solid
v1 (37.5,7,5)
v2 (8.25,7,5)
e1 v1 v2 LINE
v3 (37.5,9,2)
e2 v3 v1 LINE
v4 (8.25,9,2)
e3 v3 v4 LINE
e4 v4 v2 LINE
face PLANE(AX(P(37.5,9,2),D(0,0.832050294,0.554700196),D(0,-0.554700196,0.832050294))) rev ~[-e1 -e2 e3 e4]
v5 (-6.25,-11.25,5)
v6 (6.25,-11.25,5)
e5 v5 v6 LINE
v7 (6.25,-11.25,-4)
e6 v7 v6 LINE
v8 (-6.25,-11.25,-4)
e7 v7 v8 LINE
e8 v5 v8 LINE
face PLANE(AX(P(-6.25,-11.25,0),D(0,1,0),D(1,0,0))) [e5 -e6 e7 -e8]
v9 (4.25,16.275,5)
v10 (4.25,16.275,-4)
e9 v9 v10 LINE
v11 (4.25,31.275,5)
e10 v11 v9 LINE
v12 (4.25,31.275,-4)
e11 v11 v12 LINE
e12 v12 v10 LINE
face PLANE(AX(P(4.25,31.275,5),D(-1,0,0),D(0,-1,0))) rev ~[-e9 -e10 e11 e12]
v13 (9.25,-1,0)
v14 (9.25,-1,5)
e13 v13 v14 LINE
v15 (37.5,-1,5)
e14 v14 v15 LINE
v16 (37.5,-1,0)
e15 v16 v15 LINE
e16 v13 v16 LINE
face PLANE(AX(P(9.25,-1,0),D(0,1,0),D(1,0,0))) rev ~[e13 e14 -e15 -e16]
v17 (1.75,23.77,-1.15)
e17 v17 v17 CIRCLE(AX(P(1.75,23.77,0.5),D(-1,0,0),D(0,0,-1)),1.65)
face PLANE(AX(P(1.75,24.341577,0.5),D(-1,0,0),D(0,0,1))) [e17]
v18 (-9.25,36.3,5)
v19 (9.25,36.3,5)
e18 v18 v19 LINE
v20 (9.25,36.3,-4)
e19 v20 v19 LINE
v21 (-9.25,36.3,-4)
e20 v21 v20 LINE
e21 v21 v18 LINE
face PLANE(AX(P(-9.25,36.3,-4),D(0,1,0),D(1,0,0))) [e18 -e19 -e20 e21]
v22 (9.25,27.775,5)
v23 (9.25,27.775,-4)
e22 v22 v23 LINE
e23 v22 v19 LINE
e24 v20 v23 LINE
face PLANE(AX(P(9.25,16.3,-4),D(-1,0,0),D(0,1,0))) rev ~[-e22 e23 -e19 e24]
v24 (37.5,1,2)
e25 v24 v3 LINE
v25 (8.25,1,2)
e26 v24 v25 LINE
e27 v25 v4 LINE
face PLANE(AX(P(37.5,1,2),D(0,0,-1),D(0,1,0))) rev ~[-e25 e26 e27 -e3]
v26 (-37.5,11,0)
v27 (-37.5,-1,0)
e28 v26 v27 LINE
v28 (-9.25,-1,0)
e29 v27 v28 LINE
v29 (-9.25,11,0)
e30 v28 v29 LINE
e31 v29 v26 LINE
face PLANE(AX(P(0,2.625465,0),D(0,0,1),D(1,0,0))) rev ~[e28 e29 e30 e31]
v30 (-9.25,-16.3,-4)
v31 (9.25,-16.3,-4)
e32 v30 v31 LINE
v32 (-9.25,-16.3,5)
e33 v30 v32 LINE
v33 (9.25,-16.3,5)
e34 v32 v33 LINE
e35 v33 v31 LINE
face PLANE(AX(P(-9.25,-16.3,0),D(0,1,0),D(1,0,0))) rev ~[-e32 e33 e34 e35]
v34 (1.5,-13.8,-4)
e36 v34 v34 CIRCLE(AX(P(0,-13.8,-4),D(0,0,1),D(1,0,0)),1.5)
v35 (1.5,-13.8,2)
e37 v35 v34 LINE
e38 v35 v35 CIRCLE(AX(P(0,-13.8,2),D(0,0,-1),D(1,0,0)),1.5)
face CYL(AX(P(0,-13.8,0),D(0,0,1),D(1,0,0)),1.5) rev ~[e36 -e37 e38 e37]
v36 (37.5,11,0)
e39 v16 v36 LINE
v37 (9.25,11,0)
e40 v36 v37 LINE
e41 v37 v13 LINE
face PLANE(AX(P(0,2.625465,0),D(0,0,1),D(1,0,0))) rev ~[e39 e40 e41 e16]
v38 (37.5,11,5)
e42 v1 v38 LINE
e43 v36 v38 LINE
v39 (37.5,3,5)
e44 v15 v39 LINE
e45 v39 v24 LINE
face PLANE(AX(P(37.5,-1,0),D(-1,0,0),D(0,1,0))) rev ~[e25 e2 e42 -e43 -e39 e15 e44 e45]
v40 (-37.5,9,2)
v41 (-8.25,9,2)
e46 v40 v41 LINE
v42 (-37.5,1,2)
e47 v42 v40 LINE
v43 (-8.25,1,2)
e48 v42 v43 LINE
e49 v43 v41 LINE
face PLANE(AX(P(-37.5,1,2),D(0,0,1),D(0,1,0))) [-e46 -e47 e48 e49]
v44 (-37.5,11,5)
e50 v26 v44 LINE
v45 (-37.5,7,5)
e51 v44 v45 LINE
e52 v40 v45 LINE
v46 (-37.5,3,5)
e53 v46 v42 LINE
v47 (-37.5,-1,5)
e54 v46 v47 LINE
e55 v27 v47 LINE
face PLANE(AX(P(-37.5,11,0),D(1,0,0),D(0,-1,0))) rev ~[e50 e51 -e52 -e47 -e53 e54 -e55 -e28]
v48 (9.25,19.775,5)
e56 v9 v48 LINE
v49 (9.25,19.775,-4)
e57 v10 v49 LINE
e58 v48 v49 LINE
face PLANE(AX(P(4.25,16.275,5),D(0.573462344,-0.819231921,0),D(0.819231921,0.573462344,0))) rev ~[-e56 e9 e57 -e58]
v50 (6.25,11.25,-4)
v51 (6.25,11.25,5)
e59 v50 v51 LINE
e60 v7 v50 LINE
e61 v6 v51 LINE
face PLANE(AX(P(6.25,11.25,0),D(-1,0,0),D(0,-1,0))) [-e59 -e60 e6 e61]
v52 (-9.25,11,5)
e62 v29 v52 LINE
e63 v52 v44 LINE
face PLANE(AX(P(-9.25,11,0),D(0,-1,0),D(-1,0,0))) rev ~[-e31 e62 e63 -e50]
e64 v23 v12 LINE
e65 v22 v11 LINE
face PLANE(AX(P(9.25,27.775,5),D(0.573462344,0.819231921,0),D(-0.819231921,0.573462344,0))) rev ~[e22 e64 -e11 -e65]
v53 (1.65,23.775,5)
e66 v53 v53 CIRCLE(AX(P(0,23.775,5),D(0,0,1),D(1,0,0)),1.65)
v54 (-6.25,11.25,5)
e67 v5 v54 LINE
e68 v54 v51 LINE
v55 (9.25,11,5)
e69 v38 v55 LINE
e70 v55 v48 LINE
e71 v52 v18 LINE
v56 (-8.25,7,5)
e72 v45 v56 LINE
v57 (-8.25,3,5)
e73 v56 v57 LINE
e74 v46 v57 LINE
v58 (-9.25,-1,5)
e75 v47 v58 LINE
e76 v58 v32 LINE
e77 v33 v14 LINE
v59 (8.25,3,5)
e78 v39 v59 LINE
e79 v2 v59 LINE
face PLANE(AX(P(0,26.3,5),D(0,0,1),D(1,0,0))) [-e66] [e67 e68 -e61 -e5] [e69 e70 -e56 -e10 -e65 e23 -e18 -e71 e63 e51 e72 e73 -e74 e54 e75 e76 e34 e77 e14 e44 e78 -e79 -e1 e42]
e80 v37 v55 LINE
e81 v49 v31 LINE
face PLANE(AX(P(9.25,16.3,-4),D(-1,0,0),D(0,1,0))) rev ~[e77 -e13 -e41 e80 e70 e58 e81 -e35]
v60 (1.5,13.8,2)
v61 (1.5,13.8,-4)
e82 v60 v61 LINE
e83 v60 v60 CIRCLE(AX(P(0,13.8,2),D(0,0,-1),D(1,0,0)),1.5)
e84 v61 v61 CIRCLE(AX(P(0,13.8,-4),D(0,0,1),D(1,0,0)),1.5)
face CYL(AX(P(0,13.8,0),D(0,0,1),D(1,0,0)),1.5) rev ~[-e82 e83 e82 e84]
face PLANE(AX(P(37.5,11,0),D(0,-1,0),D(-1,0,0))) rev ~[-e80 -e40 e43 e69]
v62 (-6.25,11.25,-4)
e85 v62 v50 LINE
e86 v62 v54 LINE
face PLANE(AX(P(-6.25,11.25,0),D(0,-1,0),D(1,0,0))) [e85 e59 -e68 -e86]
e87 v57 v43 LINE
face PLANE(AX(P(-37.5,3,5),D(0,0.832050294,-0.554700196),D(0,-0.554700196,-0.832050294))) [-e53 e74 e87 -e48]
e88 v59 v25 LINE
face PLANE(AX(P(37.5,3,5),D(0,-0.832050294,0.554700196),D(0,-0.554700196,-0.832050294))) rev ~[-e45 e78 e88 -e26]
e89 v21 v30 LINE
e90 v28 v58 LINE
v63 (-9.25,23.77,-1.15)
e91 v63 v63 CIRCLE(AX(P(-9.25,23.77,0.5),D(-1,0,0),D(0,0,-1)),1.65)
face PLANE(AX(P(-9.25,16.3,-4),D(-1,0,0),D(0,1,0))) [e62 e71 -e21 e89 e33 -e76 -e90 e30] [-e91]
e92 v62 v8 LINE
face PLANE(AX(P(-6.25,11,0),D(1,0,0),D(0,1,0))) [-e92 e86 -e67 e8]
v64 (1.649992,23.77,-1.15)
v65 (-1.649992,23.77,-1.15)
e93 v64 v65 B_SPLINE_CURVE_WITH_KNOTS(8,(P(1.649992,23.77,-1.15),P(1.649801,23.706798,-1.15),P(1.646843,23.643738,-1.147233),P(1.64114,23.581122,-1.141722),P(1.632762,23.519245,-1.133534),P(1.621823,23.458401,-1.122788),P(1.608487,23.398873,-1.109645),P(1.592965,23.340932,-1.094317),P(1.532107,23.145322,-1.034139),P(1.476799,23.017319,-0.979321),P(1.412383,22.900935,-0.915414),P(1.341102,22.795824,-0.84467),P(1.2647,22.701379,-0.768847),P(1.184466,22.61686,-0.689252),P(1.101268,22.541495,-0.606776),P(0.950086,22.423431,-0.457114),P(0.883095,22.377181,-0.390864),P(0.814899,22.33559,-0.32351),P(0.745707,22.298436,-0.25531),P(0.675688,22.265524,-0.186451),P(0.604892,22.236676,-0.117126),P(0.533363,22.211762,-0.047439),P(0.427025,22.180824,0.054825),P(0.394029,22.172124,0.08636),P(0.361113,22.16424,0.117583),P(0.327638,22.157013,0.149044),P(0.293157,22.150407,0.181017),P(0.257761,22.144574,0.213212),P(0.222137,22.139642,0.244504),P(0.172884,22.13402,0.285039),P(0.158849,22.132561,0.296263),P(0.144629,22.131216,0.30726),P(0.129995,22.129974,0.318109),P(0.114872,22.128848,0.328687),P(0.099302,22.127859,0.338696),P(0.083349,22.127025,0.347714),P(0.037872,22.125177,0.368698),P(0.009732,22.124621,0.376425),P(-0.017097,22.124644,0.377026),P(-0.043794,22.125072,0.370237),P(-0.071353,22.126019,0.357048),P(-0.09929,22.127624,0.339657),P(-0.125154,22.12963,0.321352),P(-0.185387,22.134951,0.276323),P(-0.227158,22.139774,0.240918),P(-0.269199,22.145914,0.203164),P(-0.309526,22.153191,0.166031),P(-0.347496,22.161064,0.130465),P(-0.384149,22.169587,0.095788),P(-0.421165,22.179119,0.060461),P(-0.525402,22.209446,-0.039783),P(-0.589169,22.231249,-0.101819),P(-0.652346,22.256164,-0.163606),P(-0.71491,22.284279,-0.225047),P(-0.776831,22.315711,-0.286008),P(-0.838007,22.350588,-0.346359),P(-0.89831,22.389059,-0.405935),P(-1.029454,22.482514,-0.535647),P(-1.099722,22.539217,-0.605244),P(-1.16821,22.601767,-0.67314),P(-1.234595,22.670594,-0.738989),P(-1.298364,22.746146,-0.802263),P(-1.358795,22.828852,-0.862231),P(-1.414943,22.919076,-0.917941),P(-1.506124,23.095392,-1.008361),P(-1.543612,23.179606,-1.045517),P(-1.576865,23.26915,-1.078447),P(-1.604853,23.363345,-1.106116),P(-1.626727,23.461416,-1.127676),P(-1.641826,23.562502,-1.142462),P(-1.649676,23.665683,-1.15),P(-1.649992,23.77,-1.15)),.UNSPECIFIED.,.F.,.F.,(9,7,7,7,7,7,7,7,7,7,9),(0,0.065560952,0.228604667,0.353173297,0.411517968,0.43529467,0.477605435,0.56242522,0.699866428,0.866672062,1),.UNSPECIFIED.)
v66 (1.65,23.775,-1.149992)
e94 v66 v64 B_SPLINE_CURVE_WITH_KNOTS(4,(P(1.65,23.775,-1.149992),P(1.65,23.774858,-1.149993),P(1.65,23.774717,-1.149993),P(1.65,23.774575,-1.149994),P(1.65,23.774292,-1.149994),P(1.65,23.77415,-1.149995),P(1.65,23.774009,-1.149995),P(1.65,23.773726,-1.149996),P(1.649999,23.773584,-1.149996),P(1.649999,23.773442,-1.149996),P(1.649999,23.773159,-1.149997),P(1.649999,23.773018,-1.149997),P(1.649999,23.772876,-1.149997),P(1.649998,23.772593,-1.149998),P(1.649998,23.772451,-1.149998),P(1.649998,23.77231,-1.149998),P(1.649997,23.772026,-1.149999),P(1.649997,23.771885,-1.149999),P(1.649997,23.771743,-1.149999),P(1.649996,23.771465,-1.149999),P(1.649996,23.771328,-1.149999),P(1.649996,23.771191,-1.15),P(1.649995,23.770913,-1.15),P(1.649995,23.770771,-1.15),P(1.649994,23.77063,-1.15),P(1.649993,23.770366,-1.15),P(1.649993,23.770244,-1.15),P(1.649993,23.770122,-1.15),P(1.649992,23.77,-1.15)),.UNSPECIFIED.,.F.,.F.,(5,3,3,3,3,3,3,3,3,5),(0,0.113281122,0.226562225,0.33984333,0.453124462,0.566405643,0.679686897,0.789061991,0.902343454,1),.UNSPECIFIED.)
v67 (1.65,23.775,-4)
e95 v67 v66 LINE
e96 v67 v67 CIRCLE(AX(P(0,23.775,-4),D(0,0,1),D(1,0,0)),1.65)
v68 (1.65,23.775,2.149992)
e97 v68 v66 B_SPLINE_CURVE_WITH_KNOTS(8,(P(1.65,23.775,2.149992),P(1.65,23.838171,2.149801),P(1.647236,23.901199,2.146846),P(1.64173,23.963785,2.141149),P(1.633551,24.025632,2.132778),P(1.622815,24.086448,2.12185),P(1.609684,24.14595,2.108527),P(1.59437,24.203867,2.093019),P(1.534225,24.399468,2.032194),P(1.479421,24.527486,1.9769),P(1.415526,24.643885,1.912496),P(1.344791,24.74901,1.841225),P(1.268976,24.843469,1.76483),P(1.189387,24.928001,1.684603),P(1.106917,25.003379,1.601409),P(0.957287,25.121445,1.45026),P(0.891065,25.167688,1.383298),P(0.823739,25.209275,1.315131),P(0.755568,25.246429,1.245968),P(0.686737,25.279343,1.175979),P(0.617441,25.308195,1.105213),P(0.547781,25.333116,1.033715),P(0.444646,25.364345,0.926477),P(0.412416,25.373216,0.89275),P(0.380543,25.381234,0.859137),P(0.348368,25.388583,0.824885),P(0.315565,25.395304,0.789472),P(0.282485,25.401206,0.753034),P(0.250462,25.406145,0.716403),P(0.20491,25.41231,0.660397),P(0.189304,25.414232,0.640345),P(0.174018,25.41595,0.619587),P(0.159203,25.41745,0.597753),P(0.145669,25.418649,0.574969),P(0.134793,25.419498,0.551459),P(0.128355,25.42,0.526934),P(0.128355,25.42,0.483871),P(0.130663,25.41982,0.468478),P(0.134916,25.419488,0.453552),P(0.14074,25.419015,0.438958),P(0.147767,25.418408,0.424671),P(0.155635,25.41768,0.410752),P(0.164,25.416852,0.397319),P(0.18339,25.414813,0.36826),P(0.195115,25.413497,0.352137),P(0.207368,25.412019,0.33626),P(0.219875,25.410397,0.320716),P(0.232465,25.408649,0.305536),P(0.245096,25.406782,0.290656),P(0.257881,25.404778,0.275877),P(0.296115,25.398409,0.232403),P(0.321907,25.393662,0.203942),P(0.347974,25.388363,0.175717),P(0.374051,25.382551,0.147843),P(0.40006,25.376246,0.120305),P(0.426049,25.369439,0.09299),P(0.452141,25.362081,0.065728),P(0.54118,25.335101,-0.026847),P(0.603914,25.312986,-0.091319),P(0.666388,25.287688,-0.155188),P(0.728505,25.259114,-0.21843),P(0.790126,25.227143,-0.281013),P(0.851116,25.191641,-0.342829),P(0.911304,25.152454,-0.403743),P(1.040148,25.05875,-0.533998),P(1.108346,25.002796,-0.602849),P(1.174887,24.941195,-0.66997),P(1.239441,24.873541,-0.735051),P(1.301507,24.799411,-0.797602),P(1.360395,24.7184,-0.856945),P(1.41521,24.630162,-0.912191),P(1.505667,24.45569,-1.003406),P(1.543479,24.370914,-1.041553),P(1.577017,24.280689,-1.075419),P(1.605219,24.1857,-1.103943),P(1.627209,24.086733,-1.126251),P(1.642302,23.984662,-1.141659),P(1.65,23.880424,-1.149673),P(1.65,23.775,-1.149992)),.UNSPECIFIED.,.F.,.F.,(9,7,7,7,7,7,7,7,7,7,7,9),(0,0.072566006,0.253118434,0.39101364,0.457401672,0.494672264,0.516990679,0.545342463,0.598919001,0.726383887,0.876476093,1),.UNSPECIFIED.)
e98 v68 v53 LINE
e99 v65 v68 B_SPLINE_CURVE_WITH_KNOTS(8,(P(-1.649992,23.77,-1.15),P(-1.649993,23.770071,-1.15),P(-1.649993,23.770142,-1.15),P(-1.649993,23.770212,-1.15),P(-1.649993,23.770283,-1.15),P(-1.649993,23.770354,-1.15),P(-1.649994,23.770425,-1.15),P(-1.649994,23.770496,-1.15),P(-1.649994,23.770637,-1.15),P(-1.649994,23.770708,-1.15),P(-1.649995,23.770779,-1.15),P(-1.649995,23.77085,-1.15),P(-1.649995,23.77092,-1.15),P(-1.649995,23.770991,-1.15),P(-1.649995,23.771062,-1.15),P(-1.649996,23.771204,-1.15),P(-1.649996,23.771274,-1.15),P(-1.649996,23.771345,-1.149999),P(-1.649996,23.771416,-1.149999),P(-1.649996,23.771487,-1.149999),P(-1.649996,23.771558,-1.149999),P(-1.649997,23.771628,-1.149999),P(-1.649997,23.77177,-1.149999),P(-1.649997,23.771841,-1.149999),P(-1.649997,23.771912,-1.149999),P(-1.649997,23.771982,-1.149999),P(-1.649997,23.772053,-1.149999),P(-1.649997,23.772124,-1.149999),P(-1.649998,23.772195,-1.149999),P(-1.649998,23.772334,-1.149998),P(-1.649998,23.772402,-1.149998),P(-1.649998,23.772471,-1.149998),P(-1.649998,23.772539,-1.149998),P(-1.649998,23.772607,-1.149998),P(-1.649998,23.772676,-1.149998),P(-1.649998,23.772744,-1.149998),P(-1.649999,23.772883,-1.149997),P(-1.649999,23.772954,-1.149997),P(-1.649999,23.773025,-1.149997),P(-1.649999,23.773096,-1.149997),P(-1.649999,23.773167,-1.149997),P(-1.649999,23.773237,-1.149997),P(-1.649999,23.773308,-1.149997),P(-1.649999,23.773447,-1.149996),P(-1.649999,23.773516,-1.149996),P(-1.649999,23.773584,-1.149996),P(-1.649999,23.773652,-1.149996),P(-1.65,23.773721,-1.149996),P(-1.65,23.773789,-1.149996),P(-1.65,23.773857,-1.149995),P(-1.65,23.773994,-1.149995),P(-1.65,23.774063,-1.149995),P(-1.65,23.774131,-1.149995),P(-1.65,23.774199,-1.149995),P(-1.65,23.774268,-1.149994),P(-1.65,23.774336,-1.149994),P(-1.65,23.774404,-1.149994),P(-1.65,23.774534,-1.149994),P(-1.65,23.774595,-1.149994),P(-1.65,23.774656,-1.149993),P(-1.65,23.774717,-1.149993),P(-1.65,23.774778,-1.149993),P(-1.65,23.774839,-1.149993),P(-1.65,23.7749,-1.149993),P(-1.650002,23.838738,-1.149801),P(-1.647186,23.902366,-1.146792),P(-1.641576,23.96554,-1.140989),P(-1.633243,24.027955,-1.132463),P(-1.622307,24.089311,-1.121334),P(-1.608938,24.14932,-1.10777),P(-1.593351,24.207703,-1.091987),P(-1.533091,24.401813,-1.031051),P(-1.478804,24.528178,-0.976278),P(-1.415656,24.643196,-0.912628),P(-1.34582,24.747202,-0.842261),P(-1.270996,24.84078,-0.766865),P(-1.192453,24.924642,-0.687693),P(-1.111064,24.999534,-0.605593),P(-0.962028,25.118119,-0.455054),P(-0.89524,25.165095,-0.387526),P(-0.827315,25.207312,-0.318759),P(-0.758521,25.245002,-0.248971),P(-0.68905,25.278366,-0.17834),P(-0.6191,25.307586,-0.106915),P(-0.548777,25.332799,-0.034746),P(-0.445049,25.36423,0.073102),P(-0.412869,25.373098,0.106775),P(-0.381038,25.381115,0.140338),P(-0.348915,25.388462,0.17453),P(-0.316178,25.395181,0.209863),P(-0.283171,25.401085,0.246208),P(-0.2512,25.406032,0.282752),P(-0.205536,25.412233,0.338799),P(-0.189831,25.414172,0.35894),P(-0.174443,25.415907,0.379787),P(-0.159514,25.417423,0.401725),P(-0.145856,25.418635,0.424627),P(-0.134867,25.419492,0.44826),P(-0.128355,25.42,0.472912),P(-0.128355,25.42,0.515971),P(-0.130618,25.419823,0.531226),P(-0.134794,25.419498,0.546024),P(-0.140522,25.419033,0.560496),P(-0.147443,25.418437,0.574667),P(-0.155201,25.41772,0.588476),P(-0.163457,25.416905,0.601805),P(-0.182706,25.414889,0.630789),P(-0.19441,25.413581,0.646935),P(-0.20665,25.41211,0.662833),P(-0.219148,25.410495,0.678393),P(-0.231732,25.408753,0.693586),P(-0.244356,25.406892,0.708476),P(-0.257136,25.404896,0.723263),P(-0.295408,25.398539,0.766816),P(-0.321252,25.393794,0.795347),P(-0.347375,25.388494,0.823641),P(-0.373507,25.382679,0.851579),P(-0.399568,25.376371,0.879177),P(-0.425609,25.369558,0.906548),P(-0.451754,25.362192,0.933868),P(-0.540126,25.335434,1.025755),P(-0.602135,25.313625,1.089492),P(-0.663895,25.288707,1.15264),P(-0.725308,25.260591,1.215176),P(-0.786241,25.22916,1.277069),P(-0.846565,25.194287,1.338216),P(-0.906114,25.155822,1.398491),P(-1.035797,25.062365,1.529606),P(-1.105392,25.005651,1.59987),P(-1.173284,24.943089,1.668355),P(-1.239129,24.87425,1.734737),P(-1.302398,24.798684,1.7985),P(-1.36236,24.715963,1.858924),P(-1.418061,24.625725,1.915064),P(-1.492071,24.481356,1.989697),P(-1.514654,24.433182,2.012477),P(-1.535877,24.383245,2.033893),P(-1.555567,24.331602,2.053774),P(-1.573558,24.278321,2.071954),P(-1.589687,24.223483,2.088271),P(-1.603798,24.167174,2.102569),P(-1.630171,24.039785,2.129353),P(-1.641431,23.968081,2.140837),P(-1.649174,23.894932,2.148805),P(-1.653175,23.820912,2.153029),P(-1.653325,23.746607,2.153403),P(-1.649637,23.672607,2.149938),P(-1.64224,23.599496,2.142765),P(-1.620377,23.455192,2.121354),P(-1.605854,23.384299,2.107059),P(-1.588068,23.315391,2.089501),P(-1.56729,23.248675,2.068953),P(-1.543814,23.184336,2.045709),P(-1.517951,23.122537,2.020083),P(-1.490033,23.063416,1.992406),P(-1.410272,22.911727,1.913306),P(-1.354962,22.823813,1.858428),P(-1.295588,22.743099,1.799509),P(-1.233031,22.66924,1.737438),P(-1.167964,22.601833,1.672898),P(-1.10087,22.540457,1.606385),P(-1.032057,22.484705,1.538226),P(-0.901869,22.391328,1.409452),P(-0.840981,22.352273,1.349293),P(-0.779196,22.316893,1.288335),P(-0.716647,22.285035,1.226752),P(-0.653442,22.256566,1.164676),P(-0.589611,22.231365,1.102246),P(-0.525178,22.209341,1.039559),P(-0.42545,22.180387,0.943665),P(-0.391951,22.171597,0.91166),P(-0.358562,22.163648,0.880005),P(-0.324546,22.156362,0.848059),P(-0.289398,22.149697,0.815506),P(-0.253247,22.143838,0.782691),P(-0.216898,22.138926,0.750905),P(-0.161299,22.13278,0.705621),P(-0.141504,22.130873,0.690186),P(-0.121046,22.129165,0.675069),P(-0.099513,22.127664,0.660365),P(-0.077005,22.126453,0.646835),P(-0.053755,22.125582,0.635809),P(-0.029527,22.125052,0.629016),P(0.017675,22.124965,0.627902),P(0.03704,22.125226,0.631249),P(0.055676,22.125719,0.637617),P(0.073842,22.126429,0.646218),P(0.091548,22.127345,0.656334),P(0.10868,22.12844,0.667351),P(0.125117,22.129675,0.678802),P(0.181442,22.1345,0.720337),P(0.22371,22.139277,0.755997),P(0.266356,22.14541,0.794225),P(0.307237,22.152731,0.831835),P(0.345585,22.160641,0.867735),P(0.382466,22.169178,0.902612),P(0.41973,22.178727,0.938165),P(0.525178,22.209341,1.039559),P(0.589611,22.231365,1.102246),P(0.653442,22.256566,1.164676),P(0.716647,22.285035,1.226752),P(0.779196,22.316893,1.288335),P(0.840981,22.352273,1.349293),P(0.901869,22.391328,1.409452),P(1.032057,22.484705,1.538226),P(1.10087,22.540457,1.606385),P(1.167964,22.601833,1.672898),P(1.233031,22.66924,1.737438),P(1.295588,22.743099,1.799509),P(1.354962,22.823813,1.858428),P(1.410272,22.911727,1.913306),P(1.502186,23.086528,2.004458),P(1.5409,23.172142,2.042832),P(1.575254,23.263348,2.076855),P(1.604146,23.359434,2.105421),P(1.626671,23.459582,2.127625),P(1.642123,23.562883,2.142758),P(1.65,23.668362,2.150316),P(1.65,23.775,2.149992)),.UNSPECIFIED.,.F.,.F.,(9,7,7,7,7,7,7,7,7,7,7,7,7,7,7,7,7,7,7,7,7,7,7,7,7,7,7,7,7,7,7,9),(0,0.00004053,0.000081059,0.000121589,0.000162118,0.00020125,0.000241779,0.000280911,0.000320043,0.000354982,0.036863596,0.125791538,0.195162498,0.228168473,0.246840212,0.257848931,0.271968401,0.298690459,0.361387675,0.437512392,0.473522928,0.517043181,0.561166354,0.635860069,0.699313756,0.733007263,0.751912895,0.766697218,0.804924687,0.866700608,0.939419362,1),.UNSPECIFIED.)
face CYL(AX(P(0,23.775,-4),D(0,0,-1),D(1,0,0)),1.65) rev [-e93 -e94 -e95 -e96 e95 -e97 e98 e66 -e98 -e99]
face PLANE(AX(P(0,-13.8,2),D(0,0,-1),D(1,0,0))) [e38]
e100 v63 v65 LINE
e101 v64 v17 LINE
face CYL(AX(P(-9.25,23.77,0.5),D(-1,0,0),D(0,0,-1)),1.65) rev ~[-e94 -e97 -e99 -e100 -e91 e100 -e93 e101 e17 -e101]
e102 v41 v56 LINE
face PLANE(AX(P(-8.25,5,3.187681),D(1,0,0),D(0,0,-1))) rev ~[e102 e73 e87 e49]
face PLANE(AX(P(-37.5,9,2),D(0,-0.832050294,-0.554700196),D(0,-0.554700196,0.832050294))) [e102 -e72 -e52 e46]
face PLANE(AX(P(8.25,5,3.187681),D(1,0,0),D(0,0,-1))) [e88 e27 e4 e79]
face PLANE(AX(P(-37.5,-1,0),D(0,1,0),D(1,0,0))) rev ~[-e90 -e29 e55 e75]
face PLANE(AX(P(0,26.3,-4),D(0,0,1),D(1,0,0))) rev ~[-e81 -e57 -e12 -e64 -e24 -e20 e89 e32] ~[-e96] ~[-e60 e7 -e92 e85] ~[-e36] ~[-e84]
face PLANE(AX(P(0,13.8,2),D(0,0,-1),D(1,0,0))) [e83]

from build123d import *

# Parameters (mm, degrees)
SKETCH_1_W           = 12.5
SKETCH_1_H           = 22.5
EXTRUDE_1_DEPTH      = 5
CUT_EXTRUDE_2_DEPTH  = 29.25
CUT_EXTRUDE_4_DEPTH  = 29.25
SKETCH_1_9_R         = 1.5
SKETCH_1_9_W         = 3
SKETCH_1_9_H         = 4.5
EXTRUDE_2_DEPTH      = 4
EXTRUDE_7_DEPTH      = 5
EXTRUDE_7_DEPTH_BACK = 4
SKETCH_1_11_W        = 18.5
SKETCH_1_11_H        = 20
CUT_EXTRUDE_5_DEPTH  = 53.961684263
CUT_EXTRUDE_START    = -9
CUT_EXTRUDE_7_DEPTH  = 9
CUT_EXTRUDE_8_DEPTH  = 11
CUT_EXTRUDE_START_2  = -2
SKETCH_10_R          = 1.5
CUT_EXTRUDE_9_DEPTH  = 2


with BuildPart() as part:
    # 草图1 → 凸台-拉伸1 (new body)
    with BuildSketch(Plane.XY):
        Polygon((-9.25, 11), (-37.5, 11), (-37.5, -1), (-9.25, -1), (-9.25, -16.3), (9.25, -16.3), (9.25, -1), (37.5, -1), (37.5, 11), (9.25, 11), (9.25, 16.3), (-9.25, 16.3), align=None)
        Rectangle(SKETCH_1_W, SKETCH_1_H, mode=Mode.SUBTRACT)
    extrude(amount=EXTRUDE_1_DEPTH)

    # 草图2 → 切除-拉伸2 (cut)
    with BuildSketch(Plane.ZY.offset(37.5)):
        Polygon((5, 7), (5, 3), (2, 1), (2, 9), align=None)
    extrude(amount=-CUT_EXTRUDE_2_DEPTH, mode=Mode.SUBTRACT)

    # 草图3 → 切除-拉伸4 (cut)
    with BuildSketch(Plane(origin=(37.5, 0, 0), x_dir=(0, 0, -1), z_dir=(1, 0, 0))):
        Polygon((-5, 7), (-5, 3), (-2, 1), (-2, 9), align=None)
    extrude(amount=-CUT_EXTRUDE_4_DEPTH, mode=Mode.SUBTRACT)

    # 草图1<9> → 凸台-拉伸2 (add)
    # profile 1 of 8: a face of its own
    with BuildSketch(Plane.XY):
        Polygon((-9.25, 11), (-6.25, 11), (-6.25, 11.25), (0, 11.25), (6.25, 11.25), (6.25, 11), (9.25, 11), (9.25, 16.3), (-9.25, 16.3), align=None)
        with Locations((0, 13.8)):
            Circle(SKETCH_1_9_R, mode=Mode.SUBTRACT)
    # profile 2 of 8: a face of its own
    with BuildSketch(Plane.XY):
        with Locations((-7.75, 8.75)):
            Rectangle(SKETCH_1_9_W, SKETCH_1_9_H)
    # profile 3 of 8: a face of its own
    with BuildSketch(Plane.XY):
        with Locations((7.75, 8.75)):
            Rectangle(SKETCH_1_9_W, SKETCH_1_9_H)
    # profile 4 of 8: a face of its own
    with BuildSketch(Plane.XY):
        Polygon((6.25, 5), (6.25, 3.5), (9.25, 3.5), (9.25, 6.5), (6.25, 6.5), align=None)
    # profile 5 of 8: a face of its own
    with BuildSketch(Plane.XY):
        with Locations((7.75, 1.25)):
            Rectangle(SKETCH_1_9_W, SKETCH_1_9_H)
    # profile 6 of 8: a face of its own
    with BuildSketch(Plane.XY):
        Polygon((6.25, -11.25), (-6.25, -11.25), (-6.25, -1), (-9.25, -1), (-9.25, -16.3), (9.25, -16.3), (9.25, -1), (6.25, -1), align=None)
        with Locations((0, -13.8)):
            Circle(SKETCH_1_9_R, mode=Mode.SUBTRACT)
    # profile 7 of 8: a face of its own
    with BuildSketch(Plane.XY):
        with Locations((-7.75, 1.25)):
            Rectangle(SKETCH_1_9_W, SKETCH_1_9_H)
    # profile 8 of 8: a face of its own
    with BuildSketch(Plane.XY):
        Polygon((-9.25, 3.5), (-6.25, 3.5), (-6.25, 4.999999998), (-6.25, 6.5), (-9.25, 6.5), align=None)
    extrude(amount=-EXTRUDE_2_DEPTH)

    # 草图1<11> → 凸台-拉伸7 (add, two sides: drawn at the far end of the back side and taken through both)
    with BuildSketch(Plane.XY.offset(-EXTRUDE_7_DEPTH_BACK)):
        with Locations((0, 26.3)):
            Rectangle(SKETCH_1_11_W, SKETCH_1_11_H)
    extrude(amount=EXTRUDE_7_DEPTH + EXTRUDE_7_DEPTH_BACK)

    # 草图6 → 切除-拉伸5 (cut, through all)
    with BuildSketch(Plane.XY.offset(5)):
        Polygon((9.25, 23.775), (9.25, 27.775), (4.25, 31.275), (4.25, 23.775), align=None)
        Polygon((9.25, 19.775), (9.25, 23.775), (4.25, 23.775), (4.25, 16.275), align=None)
    extrude(amount=-CUT_EXTRUDE_5_DEPTH, mode=Mode.SUBTRACT)

    # 草图6<4> → 切除-拉伸7 (cut)
    with BuildSketch(Plane.XY.offset(5).offset(CUT_EXTRUDE_START)):
        with BuildLine():
            ThreePointArc((-1.65, 23.775), (0, 22.125), (1.65, 23.775))
            Line((1.65, 23.775), (-1.65, 23.775))
        make_face()
        with BuildLine():
            Line((-1.65, 23.775), (1.65, 23.775))
            ThreePointArc((1.65, 23.775), (0, 25.425), (-1.65, 23.775))
        make_face()
        with BuildLine():
            ThreePointArc((-1.65, 23.775), (0, 22.125), (1.65, 23.775))
            Line((1.65, 23.775), (-1.65, 23.775))
        make_face()
        with BuildLine():
            Line((-1.65, 23.775), (1.65, 23.775))
            ThreePointArc((1.65, 23.775), (0, 25.425), (-1.65, 23.775))
        make_face()
    extrude(amount=CUT_EXTRUDE_7_DEPTH, mode=Mode.SUBTRACT)

    # 草图9 → 切除-拉伸8 (cut)
    with BuildSketch(Plane.ZY.offset(9.25)):
        with BuildLine():
            ThreePointArc((2.15, 23.77), (0.5, 25.42), (-1.15, 23.77))
            Line((-1.15, 23.77), (2.15, 23.77))
        make_face()
        with BuildLine():
            Line((2.15, 23.77), (-1.15, 23.77))
            ThreePointArc((-1.15, 23.77), (0.5, 22.12), (2.15, 23.77))
        make_face()
        with BuildLine():
            ThreePointArc((2.15, 23.77), (0.5, 25.42), (-1.15, 23.77))
            Line((-1.15, 23.77), (2.15, 23.77))
        make_face()
        with BuildLine():
            Line((2.15, 23.77), (-1.15, 23.77))
            ThreePointArc((-1.15, 23.77), (0.5, 22.12), (2.15, 23.77))
        make_face()
    extrude(amount=-CUT_EXTRUDE_8_DEPTH, mode=Mode.SUBTRACT)

    # 草图10 → 切除-拉伸9 (cut)
    with BuildSketch(Plane(origin=(0, 0, 0), x_dir=(-1, 0, 0), z_dir=(0, 0, -1)).offset(CUT_EXTRUDE_START_2)):
        with Locations(Location((0, 13.8, 0), (0, 0, 180))):
            Circle(SKETCH_10_R)
        with Locations(Location((0, -13.8, 0), (0, 0, 180))):
            Circle(SKETCH_10_R)
    extrude(amount=CUT_EXTRUDE_9_DEPTH, mode=Mode.SUBTRACT)


solid = part.part
